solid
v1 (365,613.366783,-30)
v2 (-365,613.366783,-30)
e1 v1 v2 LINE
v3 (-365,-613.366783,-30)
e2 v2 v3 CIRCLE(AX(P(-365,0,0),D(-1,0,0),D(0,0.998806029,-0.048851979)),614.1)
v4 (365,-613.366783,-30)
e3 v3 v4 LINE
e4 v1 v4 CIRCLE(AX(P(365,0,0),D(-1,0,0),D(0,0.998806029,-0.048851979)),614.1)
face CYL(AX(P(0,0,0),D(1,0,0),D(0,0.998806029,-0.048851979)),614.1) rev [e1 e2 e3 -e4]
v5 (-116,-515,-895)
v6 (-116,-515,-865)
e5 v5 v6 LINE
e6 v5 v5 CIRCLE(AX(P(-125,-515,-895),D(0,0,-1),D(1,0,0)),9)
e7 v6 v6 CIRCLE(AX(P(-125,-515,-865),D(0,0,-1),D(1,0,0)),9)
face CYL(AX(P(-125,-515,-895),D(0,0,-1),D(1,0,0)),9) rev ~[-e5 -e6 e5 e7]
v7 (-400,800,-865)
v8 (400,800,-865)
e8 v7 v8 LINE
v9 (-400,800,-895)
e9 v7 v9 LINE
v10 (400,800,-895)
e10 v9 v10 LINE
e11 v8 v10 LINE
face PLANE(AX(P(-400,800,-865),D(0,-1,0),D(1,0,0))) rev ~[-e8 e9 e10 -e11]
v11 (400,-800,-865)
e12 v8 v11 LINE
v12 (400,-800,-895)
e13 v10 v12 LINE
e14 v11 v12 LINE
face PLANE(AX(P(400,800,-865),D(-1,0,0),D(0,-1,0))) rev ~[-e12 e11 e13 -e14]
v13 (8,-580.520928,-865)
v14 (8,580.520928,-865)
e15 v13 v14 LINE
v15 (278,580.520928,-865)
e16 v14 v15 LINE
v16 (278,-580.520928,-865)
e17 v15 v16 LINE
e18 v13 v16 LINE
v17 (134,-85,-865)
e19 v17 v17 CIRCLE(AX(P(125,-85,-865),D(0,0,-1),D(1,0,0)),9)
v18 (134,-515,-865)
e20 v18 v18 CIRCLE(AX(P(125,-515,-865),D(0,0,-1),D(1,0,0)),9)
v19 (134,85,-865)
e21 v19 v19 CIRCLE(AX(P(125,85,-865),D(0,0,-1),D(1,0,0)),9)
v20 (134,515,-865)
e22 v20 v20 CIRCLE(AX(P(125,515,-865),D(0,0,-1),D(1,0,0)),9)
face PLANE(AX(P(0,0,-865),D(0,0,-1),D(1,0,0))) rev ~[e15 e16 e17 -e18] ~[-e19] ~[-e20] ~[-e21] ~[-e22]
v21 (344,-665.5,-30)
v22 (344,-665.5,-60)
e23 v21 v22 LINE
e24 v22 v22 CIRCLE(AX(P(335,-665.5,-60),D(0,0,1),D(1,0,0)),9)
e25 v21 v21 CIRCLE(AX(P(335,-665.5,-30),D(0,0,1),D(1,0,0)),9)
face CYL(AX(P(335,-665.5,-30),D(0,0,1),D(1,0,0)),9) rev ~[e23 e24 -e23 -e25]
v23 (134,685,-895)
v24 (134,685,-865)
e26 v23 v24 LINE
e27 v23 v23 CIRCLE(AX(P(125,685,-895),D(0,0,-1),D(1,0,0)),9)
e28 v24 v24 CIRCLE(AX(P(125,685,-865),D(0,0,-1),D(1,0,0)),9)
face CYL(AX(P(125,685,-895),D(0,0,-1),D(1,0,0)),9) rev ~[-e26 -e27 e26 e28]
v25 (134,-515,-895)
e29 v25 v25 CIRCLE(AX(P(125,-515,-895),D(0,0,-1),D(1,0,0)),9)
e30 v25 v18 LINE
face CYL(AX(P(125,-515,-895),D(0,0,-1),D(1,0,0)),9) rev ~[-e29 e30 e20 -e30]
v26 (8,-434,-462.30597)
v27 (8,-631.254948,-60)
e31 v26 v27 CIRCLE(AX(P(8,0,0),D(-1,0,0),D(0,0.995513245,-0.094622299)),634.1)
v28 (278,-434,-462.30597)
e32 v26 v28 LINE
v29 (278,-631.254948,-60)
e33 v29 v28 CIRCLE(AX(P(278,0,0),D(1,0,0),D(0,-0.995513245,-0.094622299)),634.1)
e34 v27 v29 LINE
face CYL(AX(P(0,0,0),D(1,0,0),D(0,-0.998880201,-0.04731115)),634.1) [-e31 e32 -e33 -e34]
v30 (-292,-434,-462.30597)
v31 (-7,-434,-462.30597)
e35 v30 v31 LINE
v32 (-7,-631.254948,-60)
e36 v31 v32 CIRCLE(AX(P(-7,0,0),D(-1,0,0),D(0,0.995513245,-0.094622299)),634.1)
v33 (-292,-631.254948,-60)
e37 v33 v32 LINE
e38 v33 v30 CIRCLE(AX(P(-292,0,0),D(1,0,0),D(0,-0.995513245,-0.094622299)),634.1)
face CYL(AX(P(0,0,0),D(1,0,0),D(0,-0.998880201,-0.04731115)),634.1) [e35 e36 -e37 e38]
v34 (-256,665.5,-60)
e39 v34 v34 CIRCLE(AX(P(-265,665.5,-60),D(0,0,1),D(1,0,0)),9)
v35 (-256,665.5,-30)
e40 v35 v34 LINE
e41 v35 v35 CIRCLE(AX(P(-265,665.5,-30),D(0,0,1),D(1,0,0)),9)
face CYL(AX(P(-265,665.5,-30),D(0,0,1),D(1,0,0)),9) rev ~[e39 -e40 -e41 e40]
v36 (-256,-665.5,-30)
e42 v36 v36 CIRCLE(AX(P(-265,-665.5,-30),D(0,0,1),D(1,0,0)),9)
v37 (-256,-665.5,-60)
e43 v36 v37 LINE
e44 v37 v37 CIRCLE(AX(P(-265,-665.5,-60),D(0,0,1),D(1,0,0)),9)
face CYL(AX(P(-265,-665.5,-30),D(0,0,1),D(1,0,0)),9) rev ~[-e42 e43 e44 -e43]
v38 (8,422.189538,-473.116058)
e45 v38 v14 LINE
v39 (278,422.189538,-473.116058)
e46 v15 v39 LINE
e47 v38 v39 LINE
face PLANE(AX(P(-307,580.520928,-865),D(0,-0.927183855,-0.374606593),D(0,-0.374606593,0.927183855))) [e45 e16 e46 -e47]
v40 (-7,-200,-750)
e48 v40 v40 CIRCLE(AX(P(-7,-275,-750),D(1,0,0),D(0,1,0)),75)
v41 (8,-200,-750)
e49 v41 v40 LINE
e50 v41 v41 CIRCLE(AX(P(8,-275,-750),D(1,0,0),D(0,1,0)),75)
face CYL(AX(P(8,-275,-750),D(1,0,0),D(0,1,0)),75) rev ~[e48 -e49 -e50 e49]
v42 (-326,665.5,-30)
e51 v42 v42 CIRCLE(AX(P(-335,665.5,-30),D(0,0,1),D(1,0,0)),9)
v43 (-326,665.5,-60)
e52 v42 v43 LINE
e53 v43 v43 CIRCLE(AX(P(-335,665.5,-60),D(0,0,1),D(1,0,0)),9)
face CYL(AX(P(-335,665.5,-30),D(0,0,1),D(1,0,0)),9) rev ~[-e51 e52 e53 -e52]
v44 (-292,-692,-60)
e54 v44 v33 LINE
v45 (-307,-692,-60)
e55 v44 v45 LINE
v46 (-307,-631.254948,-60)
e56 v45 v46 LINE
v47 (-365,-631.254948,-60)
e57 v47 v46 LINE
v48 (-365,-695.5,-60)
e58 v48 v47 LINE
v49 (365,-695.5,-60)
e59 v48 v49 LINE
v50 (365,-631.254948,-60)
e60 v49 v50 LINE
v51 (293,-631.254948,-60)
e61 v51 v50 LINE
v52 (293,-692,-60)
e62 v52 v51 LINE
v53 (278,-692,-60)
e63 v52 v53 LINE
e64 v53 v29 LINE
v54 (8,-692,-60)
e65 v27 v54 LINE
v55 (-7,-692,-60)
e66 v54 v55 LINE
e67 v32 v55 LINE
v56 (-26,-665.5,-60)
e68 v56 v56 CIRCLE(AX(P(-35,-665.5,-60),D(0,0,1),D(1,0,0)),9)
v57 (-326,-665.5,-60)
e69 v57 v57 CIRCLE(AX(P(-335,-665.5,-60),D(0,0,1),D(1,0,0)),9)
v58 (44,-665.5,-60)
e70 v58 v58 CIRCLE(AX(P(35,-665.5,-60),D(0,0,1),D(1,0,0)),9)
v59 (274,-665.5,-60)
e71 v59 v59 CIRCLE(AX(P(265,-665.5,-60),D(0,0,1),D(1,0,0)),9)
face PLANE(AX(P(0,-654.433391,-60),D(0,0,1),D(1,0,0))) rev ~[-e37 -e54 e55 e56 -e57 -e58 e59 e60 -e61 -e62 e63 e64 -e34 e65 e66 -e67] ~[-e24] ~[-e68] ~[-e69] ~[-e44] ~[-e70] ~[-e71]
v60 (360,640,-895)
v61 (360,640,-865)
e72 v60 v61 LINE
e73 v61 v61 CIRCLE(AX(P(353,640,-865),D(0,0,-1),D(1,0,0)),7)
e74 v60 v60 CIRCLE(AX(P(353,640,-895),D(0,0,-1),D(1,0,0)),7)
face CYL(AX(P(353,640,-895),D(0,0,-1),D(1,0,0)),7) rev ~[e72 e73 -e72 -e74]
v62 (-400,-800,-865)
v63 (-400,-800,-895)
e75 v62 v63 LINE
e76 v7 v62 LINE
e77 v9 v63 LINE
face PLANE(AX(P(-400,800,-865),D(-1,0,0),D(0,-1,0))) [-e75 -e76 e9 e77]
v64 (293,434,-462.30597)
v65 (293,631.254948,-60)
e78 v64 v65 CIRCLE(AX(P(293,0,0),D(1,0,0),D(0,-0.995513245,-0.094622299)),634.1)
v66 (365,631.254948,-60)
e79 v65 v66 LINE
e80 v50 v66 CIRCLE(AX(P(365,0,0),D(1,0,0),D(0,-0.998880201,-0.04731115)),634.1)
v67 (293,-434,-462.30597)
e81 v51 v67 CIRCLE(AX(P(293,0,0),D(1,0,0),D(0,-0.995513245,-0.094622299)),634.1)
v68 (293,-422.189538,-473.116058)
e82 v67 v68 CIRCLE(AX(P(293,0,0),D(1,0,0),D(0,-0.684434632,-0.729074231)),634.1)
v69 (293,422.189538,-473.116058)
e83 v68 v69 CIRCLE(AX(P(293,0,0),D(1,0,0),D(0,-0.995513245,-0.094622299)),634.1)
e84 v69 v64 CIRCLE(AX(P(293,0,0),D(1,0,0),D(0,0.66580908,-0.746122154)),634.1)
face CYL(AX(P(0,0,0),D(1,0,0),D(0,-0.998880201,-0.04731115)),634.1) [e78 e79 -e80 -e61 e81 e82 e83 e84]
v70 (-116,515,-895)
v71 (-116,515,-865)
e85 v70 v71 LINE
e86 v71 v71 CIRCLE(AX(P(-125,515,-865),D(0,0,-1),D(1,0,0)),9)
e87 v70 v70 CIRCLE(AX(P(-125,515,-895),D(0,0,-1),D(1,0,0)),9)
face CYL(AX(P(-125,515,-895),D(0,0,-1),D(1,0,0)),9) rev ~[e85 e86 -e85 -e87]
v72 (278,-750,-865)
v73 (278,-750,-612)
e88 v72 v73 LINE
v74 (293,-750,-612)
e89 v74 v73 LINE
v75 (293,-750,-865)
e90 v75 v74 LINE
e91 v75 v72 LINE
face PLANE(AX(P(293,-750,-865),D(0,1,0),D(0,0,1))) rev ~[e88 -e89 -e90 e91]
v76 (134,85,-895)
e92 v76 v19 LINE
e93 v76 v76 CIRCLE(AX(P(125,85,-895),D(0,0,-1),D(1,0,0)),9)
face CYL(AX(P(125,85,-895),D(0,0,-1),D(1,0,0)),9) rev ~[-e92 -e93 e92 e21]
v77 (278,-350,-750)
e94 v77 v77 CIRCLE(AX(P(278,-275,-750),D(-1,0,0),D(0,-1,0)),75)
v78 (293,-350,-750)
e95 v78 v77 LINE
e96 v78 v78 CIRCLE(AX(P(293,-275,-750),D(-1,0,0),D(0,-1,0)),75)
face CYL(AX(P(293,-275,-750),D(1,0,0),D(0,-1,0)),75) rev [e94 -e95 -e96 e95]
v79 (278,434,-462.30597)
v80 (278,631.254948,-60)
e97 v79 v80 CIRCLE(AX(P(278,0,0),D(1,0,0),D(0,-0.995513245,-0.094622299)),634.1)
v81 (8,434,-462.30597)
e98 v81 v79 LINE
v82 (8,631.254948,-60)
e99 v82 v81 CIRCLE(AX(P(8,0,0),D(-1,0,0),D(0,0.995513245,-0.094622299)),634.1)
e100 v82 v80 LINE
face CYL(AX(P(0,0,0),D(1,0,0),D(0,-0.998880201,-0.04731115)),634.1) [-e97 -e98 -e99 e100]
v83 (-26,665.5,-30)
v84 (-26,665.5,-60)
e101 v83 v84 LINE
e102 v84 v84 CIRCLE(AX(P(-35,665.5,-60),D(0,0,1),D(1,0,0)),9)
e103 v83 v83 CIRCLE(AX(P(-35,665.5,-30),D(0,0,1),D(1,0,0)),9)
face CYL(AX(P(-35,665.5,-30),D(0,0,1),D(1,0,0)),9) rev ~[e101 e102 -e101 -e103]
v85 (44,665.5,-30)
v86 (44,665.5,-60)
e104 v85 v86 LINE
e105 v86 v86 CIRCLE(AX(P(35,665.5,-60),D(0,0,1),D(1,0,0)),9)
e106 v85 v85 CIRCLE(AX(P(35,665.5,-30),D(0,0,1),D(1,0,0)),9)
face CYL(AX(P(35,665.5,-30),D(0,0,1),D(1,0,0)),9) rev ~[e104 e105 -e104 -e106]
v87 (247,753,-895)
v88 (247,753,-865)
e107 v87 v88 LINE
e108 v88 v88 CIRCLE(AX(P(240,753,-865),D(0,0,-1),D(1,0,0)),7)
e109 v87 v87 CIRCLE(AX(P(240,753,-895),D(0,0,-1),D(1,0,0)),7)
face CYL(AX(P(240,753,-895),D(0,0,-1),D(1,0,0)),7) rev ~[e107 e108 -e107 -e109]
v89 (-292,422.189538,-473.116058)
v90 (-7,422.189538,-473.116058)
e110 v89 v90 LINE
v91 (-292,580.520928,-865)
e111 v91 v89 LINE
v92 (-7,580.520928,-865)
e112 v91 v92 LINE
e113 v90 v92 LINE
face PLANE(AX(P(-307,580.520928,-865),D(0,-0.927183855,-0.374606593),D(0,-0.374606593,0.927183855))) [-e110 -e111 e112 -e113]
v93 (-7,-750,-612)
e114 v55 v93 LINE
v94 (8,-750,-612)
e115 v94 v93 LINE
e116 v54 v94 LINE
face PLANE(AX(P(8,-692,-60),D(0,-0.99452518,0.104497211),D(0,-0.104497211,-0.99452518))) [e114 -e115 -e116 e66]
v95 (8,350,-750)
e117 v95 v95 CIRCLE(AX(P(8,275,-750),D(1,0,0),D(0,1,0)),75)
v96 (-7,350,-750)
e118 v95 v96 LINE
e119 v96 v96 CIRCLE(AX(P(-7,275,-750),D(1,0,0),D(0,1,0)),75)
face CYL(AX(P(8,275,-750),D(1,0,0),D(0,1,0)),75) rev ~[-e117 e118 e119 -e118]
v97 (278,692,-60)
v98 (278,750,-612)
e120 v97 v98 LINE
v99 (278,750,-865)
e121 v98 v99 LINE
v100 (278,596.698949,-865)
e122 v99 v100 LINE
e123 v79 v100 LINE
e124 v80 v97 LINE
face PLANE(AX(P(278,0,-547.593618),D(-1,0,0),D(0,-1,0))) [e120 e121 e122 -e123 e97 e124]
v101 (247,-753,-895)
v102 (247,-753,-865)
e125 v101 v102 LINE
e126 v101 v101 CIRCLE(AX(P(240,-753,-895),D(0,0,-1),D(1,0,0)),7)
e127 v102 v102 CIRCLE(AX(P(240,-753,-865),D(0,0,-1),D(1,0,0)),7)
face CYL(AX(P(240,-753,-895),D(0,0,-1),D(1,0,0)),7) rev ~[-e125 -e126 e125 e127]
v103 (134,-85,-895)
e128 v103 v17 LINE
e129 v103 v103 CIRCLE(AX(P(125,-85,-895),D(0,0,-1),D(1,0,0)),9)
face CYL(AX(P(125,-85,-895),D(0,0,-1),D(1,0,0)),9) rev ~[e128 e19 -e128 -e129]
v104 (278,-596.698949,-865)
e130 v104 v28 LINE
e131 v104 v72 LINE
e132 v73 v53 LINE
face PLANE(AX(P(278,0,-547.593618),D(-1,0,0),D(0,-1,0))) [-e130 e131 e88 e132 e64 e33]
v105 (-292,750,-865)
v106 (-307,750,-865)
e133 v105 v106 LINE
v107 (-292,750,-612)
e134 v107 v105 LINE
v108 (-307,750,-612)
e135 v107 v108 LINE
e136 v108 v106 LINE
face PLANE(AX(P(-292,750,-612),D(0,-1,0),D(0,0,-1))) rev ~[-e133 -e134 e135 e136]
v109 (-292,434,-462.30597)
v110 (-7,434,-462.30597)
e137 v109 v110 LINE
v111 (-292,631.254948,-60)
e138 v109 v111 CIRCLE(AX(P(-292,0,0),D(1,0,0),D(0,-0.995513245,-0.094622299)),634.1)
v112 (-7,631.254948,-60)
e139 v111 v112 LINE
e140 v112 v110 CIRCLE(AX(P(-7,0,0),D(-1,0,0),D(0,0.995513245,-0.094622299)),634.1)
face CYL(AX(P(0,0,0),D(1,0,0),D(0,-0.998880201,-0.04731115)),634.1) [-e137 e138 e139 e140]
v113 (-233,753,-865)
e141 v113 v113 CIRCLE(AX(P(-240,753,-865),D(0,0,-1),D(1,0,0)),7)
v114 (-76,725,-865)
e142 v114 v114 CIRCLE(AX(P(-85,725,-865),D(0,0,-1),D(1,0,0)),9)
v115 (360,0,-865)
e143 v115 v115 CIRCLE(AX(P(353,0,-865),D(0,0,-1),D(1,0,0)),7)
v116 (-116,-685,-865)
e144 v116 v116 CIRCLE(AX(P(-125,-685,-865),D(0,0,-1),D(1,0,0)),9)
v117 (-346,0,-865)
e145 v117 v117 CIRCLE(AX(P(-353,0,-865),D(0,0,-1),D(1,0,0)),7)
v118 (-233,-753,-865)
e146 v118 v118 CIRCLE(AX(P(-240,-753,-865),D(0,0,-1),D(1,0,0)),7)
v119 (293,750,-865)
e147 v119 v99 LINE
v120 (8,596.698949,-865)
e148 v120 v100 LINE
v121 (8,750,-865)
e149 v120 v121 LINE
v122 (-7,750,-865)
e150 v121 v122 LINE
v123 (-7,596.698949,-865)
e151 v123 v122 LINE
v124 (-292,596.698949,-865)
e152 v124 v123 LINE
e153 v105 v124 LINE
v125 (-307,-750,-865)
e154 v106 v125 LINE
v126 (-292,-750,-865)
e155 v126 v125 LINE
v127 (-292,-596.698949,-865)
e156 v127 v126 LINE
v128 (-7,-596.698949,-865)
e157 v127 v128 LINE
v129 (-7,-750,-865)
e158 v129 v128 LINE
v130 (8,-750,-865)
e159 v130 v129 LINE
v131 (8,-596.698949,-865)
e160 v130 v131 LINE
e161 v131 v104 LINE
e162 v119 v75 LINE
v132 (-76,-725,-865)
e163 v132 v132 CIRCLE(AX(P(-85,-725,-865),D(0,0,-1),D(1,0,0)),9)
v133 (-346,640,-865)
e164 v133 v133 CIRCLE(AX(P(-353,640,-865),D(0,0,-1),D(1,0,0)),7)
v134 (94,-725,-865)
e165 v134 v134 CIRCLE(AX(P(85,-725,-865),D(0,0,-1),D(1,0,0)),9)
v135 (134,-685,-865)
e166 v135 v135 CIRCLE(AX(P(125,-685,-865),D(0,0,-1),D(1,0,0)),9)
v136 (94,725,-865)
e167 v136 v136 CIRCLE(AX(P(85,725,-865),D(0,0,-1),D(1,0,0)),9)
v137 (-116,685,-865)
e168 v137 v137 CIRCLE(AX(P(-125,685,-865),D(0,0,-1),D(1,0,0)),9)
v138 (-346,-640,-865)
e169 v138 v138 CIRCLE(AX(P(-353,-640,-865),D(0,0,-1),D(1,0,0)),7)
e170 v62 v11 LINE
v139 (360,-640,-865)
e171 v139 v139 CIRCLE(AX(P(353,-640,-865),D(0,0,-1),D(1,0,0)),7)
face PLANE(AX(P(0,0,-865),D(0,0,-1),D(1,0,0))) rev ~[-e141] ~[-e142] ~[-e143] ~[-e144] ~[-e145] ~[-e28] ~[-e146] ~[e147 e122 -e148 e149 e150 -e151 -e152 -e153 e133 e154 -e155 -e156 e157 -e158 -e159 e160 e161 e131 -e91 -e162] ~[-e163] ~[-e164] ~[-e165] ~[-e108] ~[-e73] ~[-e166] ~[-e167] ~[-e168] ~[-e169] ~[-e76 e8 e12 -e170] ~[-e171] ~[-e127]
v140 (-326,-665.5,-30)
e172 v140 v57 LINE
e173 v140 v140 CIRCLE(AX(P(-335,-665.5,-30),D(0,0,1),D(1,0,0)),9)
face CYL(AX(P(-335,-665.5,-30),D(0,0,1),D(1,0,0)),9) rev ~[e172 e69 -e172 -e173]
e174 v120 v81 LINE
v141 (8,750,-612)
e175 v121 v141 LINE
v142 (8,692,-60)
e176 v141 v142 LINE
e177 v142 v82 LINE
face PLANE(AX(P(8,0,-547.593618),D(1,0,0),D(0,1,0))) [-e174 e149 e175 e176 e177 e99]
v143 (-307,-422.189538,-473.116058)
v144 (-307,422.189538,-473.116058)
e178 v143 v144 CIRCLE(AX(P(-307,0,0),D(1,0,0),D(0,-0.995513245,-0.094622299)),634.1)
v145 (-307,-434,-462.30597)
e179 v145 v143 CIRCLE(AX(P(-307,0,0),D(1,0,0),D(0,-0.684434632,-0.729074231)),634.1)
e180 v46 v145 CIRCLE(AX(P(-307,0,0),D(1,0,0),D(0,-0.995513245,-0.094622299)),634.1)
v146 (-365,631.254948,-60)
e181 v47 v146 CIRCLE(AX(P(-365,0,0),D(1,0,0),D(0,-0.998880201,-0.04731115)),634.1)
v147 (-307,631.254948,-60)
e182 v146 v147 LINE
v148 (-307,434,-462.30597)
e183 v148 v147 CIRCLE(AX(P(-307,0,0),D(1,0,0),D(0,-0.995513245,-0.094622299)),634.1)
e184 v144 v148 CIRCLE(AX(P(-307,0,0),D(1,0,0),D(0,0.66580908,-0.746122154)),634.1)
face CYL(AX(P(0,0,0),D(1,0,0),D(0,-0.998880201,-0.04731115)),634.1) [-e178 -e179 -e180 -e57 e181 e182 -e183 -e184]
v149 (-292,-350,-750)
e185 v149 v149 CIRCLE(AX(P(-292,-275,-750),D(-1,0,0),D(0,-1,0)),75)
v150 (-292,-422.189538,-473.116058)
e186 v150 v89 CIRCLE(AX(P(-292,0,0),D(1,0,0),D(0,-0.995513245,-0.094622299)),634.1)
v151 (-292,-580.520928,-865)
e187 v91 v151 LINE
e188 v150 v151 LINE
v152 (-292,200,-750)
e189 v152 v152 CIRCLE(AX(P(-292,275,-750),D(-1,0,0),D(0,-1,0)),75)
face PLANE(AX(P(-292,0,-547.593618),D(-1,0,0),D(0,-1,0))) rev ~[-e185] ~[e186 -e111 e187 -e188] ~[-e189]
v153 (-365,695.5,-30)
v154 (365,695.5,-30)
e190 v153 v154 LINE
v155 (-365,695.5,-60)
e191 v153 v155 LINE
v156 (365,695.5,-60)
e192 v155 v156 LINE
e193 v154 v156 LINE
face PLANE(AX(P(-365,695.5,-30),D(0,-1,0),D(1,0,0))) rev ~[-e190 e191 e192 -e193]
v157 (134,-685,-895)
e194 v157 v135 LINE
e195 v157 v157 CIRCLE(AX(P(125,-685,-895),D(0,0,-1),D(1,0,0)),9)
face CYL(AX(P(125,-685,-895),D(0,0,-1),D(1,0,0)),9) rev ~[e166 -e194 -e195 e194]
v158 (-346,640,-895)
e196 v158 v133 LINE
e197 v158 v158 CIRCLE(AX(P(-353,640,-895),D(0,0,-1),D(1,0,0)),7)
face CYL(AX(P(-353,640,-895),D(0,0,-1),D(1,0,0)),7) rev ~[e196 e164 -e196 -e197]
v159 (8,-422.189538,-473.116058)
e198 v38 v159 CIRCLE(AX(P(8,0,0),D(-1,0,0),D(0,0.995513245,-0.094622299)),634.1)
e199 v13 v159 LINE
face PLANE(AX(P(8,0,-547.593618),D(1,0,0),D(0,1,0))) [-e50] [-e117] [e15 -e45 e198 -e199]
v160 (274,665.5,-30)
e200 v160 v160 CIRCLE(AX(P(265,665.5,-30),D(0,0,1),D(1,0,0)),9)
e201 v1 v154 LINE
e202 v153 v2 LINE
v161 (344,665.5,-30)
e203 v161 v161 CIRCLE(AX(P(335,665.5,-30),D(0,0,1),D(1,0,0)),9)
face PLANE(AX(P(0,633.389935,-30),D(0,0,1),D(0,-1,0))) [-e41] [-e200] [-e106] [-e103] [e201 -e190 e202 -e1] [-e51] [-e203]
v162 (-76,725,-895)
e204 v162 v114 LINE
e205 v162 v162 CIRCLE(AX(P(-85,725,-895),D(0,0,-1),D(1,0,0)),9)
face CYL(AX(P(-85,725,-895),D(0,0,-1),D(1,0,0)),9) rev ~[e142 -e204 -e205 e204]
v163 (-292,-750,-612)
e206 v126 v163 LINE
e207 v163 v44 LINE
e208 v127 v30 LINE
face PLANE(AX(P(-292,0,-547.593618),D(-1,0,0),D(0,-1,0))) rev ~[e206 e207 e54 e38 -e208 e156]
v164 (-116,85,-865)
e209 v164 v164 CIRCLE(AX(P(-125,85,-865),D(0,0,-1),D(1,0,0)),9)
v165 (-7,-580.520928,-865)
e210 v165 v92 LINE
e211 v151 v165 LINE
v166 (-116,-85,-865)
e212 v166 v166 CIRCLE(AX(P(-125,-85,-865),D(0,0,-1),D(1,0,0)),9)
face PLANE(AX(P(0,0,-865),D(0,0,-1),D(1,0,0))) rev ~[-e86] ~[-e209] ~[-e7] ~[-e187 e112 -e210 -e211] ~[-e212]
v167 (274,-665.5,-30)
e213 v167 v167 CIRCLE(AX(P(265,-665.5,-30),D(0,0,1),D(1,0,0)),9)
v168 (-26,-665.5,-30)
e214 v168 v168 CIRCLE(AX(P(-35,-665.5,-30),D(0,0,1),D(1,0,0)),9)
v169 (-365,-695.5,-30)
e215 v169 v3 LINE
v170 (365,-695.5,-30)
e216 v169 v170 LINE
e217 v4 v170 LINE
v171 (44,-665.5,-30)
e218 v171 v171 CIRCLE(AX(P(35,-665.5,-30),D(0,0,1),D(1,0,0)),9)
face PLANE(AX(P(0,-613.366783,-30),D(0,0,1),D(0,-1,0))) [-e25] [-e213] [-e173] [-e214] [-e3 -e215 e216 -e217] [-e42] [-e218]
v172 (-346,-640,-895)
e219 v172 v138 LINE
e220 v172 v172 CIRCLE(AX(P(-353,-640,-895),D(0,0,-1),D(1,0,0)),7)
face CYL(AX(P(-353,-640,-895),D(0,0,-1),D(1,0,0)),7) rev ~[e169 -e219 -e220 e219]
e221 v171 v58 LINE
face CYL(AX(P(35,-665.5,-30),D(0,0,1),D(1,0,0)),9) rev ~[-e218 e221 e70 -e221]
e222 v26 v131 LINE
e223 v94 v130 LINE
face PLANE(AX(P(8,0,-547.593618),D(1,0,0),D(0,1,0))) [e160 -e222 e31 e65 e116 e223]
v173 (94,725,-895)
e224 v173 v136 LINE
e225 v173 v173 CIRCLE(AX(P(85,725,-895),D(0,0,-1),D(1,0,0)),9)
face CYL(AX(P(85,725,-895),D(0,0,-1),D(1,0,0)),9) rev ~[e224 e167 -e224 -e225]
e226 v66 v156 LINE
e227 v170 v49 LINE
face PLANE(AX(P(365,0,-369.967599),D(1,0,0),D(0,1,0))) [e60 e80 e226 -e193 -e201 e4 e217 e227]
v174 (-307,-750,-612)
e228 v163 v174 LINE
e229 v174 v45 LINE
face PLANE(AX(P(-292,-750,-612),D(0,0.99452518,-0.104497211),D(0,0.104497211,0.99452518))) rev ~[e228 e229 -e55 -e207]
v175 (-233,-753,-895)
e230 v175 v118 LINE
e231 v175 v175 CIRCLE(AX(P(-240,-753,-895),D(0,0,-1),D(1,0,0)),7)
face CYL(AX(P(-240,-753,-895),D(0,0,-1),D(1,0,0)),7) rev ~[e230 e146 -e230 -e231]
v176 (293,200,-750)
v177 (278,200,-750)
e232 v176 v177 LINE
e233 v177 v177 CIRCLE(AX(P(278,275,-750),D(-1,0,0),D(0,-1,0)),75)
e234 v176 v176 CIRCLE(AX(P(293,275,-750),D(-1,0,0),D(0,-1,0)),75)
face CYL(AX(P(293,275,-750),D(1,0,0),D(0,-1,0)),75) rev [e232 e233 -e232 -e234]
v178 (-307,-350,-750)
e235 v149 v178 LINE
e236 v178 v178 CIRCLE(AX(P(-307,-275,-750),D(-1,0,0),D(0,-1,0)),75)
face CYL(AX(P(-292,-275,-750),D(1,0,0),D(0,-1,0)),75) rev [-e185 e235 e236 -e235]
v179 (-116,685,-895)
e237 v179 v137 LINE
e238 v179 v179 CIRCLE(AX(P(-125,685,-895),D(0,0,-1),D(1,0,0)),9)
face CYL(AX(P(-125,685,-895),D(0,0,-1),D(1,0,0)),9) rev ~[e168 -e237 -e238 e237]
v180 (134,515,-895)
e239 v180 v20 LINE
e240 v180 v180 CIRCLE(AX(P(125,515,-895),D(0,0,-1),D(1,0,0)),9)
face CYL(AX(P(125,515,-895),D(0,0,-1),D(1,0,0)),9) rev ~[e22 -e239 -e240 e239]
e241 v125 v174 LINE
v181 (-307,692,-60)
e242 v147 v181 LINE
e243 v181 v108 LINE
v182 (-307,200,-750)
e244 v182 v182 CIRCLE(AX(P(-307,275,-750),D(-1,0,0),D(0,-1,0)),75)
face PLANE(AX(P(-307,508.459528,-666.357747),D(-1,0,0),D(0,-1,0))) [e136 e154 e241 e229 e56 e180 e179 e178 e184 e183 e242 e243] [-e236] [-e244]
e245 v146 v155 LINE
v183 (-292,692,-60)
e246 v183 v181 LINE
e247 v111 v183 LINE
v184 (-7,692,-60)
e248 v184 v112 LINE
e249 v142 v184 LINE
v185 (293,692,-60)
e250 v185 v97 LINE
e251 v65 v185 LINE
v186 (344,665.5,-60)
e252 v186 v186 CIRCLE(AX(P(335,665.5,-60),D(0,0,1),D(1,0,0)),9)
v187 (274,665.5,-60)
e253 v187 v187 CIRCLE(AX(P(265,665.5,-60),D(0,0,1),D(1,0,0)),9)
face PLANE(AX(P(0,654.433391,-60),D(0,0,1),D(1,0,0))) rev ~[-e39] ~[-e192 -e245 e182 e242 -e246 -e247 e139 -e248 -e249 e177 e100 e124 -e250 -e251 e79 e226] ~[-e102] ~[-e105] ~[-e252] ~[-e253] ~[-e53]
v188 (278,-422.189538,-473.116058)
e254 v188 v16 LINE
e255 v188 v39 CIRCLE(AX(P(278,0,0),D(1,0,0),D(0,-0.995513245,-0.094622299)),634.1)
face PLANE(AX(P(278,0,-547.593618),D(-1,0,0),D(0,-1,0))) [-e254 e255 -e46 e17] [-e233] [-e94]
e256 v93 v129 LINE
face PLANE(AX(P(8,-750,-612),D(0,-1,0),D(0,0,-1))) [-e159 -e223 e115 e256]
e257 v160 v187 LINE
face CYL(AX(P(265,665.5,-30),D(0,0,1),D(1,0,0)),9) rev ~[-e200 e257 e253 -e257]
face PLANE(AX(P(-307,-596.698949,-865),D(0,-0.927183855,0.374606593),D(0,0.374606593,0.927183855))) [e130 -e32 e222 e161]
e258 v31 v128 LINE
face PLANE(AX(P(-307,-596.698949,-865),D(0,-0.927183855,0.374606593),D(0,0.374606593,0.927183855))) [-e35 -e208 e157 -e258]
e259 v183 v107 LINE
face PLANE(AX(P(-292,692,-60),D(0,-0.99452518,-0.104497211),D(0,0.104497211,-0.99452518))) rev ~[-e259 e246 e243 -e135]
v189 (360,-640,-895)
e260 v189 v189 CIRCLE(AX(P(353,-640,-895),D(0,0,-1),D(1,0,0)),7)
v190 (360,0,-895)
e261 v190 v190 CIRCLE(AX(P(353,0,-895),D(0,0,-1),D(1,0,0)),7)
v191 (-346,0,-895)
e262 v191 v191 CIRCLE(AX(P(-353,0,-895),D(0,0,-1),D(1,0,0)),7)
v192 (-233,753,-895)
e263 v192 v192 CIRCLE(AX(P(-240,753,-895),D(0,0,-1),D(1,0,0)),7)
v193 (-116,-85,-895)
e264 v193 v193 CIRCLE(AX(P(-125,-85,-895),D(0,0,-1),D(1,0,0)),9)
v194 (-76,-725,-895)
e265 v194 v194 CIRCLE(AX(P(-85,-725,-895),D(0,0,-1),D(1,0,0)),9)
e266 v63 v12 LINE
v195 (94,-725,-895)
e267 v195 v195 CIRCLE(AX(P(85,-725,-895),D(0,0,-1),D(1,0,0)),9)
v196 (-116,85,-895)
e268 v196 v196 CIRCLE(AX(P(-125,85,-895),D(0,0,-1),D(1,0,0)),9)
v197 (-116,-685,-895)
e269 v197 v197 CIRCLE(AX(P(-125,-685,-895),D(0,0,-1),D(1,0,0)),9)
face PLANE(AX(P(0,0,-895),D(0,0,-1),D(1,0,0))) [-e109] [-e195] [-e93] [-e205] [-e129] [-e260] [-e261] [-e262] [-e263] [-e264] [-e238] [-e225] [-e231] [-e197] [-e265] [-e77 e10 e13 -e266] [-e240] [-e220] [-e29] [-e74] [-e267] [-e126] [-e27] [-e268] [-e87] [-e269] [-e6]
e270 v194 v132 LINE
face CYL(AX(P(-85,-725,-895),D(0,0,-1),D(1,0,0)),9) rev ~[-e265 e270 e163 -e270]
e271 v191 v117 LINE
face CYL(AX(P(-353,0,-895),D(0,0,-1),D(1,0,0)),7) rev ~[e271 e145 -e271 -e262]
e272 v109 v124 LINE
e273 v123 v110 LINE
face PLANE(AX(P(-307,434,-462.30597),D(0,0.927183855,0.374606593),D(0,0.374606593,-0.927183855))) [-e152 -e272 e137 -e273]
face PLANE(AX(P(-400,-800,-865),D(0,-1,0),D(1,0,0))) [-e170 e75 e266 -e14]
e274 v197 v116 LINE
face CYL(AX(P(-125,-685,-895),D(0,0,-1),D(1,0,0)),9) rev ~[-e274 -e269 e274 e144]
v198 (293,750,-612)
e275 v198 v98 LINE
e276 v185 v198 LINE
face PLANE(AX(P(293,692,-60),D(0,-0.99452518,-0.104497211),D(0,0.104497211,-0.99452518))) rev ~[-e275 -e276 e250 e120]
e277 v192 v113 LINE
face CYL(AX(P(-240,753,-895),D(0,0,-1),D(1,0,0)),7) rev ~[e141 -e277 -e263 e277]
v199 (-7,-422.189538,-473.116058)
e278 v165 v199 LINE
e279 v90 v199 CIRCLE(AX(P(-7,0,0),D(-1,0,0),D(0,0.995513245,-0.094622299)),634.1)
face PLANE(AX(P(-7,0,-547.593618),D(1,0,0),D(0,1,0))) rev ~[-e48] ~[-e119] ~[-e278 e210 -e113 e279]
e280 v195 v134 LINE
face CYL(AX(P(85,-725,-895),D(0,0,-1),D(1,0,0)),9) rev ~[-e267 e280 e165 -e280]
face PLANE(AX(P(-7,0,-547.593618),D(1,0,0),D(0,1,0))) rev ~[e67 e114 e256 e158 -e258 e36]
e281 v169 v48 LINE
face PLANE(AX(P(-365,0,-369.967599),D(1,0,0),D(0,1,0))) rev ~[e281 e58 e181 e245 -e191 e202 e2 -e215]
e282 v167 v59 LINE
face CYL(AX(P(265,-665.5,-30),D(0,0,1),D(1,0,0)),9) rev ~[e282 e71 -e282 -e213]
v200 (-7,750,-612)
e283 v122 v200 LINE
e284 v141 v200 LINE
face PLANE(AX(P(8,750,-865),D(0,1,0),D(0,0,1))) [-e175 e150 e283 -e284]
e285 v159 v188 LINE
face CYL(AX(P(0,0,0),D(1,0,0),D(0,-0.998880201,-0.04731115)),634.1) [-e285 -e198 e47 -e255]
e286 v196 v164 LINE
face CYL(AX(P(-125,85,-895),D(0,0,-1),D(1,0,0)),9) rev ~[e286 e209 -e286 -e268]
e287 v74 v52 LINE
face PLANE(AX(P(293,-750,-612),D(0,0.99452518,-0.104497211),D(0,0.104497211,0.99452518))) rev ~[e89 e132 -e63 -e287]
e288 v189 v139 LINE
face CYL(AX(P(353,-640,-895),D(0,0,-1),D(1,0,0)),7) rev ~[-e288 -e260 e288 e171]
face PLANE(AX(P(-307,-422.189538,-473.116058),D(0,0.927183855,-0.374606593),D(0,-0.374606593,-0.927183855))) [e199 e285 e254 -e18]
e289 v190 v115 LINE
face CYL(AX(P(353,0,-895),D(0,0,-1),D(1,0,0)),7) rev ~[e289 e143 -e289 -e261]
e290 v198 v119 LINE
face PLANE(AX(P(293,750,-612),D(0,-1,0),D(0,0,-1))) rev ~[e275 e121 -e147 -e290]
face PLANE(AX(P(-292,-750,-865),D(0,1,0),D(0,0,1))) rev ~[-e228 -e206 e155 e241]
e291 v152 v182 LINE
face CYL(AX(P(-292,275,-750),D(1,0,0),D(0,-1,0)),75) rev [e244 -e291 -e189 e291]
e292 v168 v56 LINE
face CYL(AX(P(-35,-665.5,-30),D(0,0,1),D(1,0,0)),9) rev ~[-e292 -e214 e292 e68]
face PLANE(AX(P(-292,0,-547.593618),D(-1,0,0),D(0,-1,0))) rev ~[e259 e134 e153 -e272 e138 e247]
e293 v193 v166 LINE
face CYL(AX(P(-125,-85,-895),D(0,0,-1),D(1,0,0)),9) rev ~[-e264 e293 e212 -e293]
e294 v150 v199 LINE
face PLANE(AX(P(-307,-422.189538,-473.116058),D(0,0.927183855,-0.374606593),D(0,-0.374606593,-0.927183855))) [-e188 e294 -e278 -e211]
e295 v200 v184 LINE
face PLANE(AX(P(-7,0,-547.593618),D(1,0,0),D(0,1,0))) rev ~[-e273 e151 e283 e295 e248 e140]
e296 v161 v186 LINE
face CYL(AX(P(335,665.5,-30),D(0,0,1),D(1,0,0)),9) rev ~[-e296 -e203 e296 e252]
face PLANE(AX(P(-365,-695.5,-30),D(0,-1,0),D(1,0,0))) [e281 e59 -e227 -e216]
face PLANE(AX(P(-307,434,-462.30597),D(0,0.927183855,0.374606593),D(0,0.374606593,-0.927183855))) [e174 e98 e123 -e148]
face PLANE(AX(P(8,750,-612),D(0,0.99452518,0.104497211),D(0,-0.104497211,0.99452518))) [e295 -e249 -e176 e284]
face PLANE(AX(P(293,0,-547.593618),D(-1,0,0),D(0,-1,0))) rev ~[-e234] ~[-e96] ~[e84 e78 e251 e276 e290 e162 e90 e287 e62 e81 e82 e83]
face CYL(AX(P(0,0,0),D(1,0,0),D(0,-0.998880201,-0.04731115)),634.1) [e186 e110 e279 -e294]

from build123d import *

# Parameters (mm, degrees)
F1_DEPTH  = 365
F2_W      = 730
F2_H      = 82.1332173976
F3_DEPTH  = 30
F4_R      = 9
F5_DEPTH  = 604.101
F7_R      = 75
F8_DEPTH  = 15
F10_R     = 75
F11_DEPTH = 15
F13_R     = 75
F14_DEPTH = 15
F15_W     = 800
F15_H     = 1600
F16_DEPTH = 30
F18_DEPTH = 600
F19_R     = 7
F19_R_2   = 9
F20_DEPTH = 31
F21_R     = 9
F22_DEPTH = 31


with BuildPart() as f1:
    # F0 (on Right) → F1 (new body, symmetric)
    with BuildSketch(Plane.YZ):
        with BuildLine():
            ThreePointArc((613.3667826024, -30), (0, -614.1), (-613.3667826024, -30))
            Line((-613.3667826024, -30), (-633.38993519, -30))
            ThreePointArc((-633.38993519, -30), (0, -634.1), (633.38993519, -30))
            Line((633.38993519, -30), (613.3667826024, -30))
        make_face()
    extrude(amount=F1_DEPTH, both=True)

    # F2 (on face) → F3 (join)
    with BuildSketch(Plane.XY.offset(-30)):
        with Locations((0, 654.4333913012)):
            Rectangle(F2_W, F2_H)
        with Locations((0, -654.4333913012)):
            Rectangle(F2_W, F2_H)
    extrude(amount=-F3_DEPTH)

    # F4 (on face) → F5 (cut, through all)
    with BuildSketch(Plane.XY.offset(-30)):
        with Locations((-335, 665.5)):
            Circle(F4_R)
        with Locations((-265, 665.5)):
            Circle(F4_R)
        with Locations((-35, 665.5)):
            Circle(F4_R)
        with Locations((35, 665.5)):
            Circle(F4_R)
        with Locations((265, 665.5)):
            Circle(F4_R)
        with Locations((335, 665.5)):
            Circle(F4_R)
        with Locations((-265, -665.5)):
            Circle(F4_R)
        with Locations((-335, -665.5)):
            Circle(F4_R)
        with Locations((-35, -665.5)):
            Circle(F4_R)
        with Locations((35, -665.5)):
            Circle(F4_R)
        with Locations((265, -665.5)):
            Circle(F4_R)
        with Locations((335, -665.5)):
            Circle(F4_R)
    extrude(amount=-F5_DEPTH, mode=Mode.SUBTRACT)

    # F7 (on offset) → F8 (join)
    with BuildSketch(Plane(origin=(-292, 0, 0), x_dir=(0, -1, 0), z_dir=(-1, 0, 0))):
        with BuildLine():
            Line((-750, -865), (750, -865))
            Line((750, -865), (750, -612))
            Line((750, -612), (692, -60))
            Line((692, -60), (631.2549484955, -60))
            ThreePointArc((631.2549484955, -60), (0, -634.1), (-631.2549484955, -60))
            Line((-631.2549484955, -60), (-692, -60))
            Line((-692, -60), (-750, -612))
            Line((-750, -612), (-750, -865))
        make_face()
        with Locations((-275, -750)):
            Circle(F7_R, mode=Mode.SUBTRACT)
        with Locations((275, -750)):
            Circle(F7_R, mode=Mode.SUBTRACT)
    extrude(amount=F8_DEPTH)

    # F10 (on offset) → F11 (join)
    with BuildSketch(Plane.YZ.offset(8)):
        with BuildLine():
            Line((692, -60), (631.2549484955, -60))
            ThreePointArc((631.2549484955, -60), (0, -634.1), (-631.2549484955, -60))
            Line((-631.2549484955, -60), (-692, -60))
            Line((-692, -60), (-750, -612))
            Line((-750, -612), (-750, -865))
            Line((-750, -865), (750, -865))
            Line((750, -865), (750, -612))
            Line((750, -612), (692, -60))
        make_face()
        with Locations((-275, -750)):
            Circle(F10_R, mode=Mode.SUBTRACT)
        with Locations((275, -750)):
            Circle(F10_R, mode=Mode.SUBTRACT)
    extrude(amount=-F11_DEPTH)

    # F13 (on offset) → F14 (join)
    with BuildSketch(Plane(origin=(293, 0, 0), x_dir=(0, -1, 0), z_dir=(-1, 0, 0))):
        with BuildLine():
            Line((750, -865), (750, -612))
            Line((750, -612), (692, -60))
            Line((692, -60), (631.2549484955, -60))
            ThreePointArc((631.2549484955, -60), (0, -634.1), (-631.2549484955, -60))
            Line((-631.2549484955, -60), (-692, -60))
            Line((-692, -60), (-750, -612))
            Line((-750, -612), (-750, -865))
            Line((-750, -865), (750, -865))
        make_face()
        with Locations((-275, -750)):
            Circle(F13_R, mode=Mode.SUBTRACT)
        with Locations((275, -750)):
            Circle(F13_R, mode=Mode.SUBTRACT)
    extrude(amount=F14_DEPTH)

    # F15 (on face) → F16 (join)
    with BuildSketch(Plane(origin=(0, 0, -865), x_dir=(1, 0, 0), z_dir=(0, 0, -1))):
        Rectangle(F15_W, F15_H)
    extrude(amount=F16_DEPTH)

    # F17 (on face) → F18 (join, through all)
    with BuildSketch(Plane(origin=(-307, 0, 0), x_dir=(0, -1, 0), z_dir=(-1, 0, 0))):
        with BuildLine():
            Line((-434, -462.3059701107), (-596.6989490625, -865))
            Line((-596.6989490625, -865), (-580.5209279224, -865))
            Line((-580.5209279224, -865), (-422.1895378001, -473.1160578253))
            ThreePointArc((-422.1895378001, -473.1160578253), (-428.1288890728, -467.7482916498), (-434, -462.3059701107))
        make_face()
        with BuildLine():
            Line((596.6989490625, -865), (434, -462.3059701107))
            ThreePointArc((434, -462.3059701107), (428.1288890728, -467.7482916498), (422.1895378001, -473.1160578253))
            Line((422.1895378001, -473.1160578253), (580.5209279224, -865))
            Line((580.5209279224, -865), (596.6989490625, -865))
        make_face()
    extrude(amount=-F18_DEPTH)

    # F19 (on face) → F20 (cut)
    with BuildSketch(Plane(origin=(0, 0, -895), x_dir=(1, 0, 0), z_dir=(0, 0, -1))):
        with Locations((-353, 0)):
            Circle(F19_R)
        with Locations((353, 0)):
            Circle(F19_R)
        with Locations((-353, 640)):
            Circle(F19_R)
        with Locations((-240, 753)):
            Circle(F19_R)
        with Locations((-85, 725)):
            Circle(F19_R_2)
        with Locations((85, 725)):
            Circle(F19_R_2)
        with Locations((240, 753)):
            Circle(F19_R)
        with Locations((353, 640)):
            Circle(F19_R)
        with Locations((-353, -640)):
            Circle(F19_R)
        with Locations((-240, -753)):
            Circle(F19_R)
        with Locations((-85, -725)):
            Circle(F19_R_2)
        with Locations((85, -725)):
            Circle(F19_R_2)
        with Locations((353, -640)):
            Circle(F19_R)
        with Locations((240, -753)):
            Circle(F19_R)
    extrude(amount=-F20_DEPTH, mode=Mode.SUBTRACT)

    # F21 (on face) → F22 (cut)
    with BuildSketch(Plane(origin=(0, 0, -895), x_dir=(1, 0, 0), z_dir=(0, 0, -1))):
        with Locations((-125, 685)):
            Circle(F21_R)
        with Locations((-125, 515)):
            Circle(F21_R)
        with Locations((125, 685)):
            Circle(F21_R)
        with Locations((125, 515)):
            Circle(F21_R)
        with Locations((-125, 85)):
            Circle(F21_R)
        with Locations((125, 85)):
            Circle(F21_R)
        with Locations((-125, -85)):
            Circle(F21_R)
        with Locations((125, -85)):
            Circle(F21_R)
        with Locations((-125, -685)):
            Circle(F21_R)
        with Locations((125, -685)):
            Circle(F21_R)
        with Locations((125, -515)):
            Circle(F21_R)
        with Locations((-125, -515)):
            Circle(F21_R)
    extrude(amount=-F22_DEPTH, mode=Mode.SUBTRACT)


solid = f1.part
